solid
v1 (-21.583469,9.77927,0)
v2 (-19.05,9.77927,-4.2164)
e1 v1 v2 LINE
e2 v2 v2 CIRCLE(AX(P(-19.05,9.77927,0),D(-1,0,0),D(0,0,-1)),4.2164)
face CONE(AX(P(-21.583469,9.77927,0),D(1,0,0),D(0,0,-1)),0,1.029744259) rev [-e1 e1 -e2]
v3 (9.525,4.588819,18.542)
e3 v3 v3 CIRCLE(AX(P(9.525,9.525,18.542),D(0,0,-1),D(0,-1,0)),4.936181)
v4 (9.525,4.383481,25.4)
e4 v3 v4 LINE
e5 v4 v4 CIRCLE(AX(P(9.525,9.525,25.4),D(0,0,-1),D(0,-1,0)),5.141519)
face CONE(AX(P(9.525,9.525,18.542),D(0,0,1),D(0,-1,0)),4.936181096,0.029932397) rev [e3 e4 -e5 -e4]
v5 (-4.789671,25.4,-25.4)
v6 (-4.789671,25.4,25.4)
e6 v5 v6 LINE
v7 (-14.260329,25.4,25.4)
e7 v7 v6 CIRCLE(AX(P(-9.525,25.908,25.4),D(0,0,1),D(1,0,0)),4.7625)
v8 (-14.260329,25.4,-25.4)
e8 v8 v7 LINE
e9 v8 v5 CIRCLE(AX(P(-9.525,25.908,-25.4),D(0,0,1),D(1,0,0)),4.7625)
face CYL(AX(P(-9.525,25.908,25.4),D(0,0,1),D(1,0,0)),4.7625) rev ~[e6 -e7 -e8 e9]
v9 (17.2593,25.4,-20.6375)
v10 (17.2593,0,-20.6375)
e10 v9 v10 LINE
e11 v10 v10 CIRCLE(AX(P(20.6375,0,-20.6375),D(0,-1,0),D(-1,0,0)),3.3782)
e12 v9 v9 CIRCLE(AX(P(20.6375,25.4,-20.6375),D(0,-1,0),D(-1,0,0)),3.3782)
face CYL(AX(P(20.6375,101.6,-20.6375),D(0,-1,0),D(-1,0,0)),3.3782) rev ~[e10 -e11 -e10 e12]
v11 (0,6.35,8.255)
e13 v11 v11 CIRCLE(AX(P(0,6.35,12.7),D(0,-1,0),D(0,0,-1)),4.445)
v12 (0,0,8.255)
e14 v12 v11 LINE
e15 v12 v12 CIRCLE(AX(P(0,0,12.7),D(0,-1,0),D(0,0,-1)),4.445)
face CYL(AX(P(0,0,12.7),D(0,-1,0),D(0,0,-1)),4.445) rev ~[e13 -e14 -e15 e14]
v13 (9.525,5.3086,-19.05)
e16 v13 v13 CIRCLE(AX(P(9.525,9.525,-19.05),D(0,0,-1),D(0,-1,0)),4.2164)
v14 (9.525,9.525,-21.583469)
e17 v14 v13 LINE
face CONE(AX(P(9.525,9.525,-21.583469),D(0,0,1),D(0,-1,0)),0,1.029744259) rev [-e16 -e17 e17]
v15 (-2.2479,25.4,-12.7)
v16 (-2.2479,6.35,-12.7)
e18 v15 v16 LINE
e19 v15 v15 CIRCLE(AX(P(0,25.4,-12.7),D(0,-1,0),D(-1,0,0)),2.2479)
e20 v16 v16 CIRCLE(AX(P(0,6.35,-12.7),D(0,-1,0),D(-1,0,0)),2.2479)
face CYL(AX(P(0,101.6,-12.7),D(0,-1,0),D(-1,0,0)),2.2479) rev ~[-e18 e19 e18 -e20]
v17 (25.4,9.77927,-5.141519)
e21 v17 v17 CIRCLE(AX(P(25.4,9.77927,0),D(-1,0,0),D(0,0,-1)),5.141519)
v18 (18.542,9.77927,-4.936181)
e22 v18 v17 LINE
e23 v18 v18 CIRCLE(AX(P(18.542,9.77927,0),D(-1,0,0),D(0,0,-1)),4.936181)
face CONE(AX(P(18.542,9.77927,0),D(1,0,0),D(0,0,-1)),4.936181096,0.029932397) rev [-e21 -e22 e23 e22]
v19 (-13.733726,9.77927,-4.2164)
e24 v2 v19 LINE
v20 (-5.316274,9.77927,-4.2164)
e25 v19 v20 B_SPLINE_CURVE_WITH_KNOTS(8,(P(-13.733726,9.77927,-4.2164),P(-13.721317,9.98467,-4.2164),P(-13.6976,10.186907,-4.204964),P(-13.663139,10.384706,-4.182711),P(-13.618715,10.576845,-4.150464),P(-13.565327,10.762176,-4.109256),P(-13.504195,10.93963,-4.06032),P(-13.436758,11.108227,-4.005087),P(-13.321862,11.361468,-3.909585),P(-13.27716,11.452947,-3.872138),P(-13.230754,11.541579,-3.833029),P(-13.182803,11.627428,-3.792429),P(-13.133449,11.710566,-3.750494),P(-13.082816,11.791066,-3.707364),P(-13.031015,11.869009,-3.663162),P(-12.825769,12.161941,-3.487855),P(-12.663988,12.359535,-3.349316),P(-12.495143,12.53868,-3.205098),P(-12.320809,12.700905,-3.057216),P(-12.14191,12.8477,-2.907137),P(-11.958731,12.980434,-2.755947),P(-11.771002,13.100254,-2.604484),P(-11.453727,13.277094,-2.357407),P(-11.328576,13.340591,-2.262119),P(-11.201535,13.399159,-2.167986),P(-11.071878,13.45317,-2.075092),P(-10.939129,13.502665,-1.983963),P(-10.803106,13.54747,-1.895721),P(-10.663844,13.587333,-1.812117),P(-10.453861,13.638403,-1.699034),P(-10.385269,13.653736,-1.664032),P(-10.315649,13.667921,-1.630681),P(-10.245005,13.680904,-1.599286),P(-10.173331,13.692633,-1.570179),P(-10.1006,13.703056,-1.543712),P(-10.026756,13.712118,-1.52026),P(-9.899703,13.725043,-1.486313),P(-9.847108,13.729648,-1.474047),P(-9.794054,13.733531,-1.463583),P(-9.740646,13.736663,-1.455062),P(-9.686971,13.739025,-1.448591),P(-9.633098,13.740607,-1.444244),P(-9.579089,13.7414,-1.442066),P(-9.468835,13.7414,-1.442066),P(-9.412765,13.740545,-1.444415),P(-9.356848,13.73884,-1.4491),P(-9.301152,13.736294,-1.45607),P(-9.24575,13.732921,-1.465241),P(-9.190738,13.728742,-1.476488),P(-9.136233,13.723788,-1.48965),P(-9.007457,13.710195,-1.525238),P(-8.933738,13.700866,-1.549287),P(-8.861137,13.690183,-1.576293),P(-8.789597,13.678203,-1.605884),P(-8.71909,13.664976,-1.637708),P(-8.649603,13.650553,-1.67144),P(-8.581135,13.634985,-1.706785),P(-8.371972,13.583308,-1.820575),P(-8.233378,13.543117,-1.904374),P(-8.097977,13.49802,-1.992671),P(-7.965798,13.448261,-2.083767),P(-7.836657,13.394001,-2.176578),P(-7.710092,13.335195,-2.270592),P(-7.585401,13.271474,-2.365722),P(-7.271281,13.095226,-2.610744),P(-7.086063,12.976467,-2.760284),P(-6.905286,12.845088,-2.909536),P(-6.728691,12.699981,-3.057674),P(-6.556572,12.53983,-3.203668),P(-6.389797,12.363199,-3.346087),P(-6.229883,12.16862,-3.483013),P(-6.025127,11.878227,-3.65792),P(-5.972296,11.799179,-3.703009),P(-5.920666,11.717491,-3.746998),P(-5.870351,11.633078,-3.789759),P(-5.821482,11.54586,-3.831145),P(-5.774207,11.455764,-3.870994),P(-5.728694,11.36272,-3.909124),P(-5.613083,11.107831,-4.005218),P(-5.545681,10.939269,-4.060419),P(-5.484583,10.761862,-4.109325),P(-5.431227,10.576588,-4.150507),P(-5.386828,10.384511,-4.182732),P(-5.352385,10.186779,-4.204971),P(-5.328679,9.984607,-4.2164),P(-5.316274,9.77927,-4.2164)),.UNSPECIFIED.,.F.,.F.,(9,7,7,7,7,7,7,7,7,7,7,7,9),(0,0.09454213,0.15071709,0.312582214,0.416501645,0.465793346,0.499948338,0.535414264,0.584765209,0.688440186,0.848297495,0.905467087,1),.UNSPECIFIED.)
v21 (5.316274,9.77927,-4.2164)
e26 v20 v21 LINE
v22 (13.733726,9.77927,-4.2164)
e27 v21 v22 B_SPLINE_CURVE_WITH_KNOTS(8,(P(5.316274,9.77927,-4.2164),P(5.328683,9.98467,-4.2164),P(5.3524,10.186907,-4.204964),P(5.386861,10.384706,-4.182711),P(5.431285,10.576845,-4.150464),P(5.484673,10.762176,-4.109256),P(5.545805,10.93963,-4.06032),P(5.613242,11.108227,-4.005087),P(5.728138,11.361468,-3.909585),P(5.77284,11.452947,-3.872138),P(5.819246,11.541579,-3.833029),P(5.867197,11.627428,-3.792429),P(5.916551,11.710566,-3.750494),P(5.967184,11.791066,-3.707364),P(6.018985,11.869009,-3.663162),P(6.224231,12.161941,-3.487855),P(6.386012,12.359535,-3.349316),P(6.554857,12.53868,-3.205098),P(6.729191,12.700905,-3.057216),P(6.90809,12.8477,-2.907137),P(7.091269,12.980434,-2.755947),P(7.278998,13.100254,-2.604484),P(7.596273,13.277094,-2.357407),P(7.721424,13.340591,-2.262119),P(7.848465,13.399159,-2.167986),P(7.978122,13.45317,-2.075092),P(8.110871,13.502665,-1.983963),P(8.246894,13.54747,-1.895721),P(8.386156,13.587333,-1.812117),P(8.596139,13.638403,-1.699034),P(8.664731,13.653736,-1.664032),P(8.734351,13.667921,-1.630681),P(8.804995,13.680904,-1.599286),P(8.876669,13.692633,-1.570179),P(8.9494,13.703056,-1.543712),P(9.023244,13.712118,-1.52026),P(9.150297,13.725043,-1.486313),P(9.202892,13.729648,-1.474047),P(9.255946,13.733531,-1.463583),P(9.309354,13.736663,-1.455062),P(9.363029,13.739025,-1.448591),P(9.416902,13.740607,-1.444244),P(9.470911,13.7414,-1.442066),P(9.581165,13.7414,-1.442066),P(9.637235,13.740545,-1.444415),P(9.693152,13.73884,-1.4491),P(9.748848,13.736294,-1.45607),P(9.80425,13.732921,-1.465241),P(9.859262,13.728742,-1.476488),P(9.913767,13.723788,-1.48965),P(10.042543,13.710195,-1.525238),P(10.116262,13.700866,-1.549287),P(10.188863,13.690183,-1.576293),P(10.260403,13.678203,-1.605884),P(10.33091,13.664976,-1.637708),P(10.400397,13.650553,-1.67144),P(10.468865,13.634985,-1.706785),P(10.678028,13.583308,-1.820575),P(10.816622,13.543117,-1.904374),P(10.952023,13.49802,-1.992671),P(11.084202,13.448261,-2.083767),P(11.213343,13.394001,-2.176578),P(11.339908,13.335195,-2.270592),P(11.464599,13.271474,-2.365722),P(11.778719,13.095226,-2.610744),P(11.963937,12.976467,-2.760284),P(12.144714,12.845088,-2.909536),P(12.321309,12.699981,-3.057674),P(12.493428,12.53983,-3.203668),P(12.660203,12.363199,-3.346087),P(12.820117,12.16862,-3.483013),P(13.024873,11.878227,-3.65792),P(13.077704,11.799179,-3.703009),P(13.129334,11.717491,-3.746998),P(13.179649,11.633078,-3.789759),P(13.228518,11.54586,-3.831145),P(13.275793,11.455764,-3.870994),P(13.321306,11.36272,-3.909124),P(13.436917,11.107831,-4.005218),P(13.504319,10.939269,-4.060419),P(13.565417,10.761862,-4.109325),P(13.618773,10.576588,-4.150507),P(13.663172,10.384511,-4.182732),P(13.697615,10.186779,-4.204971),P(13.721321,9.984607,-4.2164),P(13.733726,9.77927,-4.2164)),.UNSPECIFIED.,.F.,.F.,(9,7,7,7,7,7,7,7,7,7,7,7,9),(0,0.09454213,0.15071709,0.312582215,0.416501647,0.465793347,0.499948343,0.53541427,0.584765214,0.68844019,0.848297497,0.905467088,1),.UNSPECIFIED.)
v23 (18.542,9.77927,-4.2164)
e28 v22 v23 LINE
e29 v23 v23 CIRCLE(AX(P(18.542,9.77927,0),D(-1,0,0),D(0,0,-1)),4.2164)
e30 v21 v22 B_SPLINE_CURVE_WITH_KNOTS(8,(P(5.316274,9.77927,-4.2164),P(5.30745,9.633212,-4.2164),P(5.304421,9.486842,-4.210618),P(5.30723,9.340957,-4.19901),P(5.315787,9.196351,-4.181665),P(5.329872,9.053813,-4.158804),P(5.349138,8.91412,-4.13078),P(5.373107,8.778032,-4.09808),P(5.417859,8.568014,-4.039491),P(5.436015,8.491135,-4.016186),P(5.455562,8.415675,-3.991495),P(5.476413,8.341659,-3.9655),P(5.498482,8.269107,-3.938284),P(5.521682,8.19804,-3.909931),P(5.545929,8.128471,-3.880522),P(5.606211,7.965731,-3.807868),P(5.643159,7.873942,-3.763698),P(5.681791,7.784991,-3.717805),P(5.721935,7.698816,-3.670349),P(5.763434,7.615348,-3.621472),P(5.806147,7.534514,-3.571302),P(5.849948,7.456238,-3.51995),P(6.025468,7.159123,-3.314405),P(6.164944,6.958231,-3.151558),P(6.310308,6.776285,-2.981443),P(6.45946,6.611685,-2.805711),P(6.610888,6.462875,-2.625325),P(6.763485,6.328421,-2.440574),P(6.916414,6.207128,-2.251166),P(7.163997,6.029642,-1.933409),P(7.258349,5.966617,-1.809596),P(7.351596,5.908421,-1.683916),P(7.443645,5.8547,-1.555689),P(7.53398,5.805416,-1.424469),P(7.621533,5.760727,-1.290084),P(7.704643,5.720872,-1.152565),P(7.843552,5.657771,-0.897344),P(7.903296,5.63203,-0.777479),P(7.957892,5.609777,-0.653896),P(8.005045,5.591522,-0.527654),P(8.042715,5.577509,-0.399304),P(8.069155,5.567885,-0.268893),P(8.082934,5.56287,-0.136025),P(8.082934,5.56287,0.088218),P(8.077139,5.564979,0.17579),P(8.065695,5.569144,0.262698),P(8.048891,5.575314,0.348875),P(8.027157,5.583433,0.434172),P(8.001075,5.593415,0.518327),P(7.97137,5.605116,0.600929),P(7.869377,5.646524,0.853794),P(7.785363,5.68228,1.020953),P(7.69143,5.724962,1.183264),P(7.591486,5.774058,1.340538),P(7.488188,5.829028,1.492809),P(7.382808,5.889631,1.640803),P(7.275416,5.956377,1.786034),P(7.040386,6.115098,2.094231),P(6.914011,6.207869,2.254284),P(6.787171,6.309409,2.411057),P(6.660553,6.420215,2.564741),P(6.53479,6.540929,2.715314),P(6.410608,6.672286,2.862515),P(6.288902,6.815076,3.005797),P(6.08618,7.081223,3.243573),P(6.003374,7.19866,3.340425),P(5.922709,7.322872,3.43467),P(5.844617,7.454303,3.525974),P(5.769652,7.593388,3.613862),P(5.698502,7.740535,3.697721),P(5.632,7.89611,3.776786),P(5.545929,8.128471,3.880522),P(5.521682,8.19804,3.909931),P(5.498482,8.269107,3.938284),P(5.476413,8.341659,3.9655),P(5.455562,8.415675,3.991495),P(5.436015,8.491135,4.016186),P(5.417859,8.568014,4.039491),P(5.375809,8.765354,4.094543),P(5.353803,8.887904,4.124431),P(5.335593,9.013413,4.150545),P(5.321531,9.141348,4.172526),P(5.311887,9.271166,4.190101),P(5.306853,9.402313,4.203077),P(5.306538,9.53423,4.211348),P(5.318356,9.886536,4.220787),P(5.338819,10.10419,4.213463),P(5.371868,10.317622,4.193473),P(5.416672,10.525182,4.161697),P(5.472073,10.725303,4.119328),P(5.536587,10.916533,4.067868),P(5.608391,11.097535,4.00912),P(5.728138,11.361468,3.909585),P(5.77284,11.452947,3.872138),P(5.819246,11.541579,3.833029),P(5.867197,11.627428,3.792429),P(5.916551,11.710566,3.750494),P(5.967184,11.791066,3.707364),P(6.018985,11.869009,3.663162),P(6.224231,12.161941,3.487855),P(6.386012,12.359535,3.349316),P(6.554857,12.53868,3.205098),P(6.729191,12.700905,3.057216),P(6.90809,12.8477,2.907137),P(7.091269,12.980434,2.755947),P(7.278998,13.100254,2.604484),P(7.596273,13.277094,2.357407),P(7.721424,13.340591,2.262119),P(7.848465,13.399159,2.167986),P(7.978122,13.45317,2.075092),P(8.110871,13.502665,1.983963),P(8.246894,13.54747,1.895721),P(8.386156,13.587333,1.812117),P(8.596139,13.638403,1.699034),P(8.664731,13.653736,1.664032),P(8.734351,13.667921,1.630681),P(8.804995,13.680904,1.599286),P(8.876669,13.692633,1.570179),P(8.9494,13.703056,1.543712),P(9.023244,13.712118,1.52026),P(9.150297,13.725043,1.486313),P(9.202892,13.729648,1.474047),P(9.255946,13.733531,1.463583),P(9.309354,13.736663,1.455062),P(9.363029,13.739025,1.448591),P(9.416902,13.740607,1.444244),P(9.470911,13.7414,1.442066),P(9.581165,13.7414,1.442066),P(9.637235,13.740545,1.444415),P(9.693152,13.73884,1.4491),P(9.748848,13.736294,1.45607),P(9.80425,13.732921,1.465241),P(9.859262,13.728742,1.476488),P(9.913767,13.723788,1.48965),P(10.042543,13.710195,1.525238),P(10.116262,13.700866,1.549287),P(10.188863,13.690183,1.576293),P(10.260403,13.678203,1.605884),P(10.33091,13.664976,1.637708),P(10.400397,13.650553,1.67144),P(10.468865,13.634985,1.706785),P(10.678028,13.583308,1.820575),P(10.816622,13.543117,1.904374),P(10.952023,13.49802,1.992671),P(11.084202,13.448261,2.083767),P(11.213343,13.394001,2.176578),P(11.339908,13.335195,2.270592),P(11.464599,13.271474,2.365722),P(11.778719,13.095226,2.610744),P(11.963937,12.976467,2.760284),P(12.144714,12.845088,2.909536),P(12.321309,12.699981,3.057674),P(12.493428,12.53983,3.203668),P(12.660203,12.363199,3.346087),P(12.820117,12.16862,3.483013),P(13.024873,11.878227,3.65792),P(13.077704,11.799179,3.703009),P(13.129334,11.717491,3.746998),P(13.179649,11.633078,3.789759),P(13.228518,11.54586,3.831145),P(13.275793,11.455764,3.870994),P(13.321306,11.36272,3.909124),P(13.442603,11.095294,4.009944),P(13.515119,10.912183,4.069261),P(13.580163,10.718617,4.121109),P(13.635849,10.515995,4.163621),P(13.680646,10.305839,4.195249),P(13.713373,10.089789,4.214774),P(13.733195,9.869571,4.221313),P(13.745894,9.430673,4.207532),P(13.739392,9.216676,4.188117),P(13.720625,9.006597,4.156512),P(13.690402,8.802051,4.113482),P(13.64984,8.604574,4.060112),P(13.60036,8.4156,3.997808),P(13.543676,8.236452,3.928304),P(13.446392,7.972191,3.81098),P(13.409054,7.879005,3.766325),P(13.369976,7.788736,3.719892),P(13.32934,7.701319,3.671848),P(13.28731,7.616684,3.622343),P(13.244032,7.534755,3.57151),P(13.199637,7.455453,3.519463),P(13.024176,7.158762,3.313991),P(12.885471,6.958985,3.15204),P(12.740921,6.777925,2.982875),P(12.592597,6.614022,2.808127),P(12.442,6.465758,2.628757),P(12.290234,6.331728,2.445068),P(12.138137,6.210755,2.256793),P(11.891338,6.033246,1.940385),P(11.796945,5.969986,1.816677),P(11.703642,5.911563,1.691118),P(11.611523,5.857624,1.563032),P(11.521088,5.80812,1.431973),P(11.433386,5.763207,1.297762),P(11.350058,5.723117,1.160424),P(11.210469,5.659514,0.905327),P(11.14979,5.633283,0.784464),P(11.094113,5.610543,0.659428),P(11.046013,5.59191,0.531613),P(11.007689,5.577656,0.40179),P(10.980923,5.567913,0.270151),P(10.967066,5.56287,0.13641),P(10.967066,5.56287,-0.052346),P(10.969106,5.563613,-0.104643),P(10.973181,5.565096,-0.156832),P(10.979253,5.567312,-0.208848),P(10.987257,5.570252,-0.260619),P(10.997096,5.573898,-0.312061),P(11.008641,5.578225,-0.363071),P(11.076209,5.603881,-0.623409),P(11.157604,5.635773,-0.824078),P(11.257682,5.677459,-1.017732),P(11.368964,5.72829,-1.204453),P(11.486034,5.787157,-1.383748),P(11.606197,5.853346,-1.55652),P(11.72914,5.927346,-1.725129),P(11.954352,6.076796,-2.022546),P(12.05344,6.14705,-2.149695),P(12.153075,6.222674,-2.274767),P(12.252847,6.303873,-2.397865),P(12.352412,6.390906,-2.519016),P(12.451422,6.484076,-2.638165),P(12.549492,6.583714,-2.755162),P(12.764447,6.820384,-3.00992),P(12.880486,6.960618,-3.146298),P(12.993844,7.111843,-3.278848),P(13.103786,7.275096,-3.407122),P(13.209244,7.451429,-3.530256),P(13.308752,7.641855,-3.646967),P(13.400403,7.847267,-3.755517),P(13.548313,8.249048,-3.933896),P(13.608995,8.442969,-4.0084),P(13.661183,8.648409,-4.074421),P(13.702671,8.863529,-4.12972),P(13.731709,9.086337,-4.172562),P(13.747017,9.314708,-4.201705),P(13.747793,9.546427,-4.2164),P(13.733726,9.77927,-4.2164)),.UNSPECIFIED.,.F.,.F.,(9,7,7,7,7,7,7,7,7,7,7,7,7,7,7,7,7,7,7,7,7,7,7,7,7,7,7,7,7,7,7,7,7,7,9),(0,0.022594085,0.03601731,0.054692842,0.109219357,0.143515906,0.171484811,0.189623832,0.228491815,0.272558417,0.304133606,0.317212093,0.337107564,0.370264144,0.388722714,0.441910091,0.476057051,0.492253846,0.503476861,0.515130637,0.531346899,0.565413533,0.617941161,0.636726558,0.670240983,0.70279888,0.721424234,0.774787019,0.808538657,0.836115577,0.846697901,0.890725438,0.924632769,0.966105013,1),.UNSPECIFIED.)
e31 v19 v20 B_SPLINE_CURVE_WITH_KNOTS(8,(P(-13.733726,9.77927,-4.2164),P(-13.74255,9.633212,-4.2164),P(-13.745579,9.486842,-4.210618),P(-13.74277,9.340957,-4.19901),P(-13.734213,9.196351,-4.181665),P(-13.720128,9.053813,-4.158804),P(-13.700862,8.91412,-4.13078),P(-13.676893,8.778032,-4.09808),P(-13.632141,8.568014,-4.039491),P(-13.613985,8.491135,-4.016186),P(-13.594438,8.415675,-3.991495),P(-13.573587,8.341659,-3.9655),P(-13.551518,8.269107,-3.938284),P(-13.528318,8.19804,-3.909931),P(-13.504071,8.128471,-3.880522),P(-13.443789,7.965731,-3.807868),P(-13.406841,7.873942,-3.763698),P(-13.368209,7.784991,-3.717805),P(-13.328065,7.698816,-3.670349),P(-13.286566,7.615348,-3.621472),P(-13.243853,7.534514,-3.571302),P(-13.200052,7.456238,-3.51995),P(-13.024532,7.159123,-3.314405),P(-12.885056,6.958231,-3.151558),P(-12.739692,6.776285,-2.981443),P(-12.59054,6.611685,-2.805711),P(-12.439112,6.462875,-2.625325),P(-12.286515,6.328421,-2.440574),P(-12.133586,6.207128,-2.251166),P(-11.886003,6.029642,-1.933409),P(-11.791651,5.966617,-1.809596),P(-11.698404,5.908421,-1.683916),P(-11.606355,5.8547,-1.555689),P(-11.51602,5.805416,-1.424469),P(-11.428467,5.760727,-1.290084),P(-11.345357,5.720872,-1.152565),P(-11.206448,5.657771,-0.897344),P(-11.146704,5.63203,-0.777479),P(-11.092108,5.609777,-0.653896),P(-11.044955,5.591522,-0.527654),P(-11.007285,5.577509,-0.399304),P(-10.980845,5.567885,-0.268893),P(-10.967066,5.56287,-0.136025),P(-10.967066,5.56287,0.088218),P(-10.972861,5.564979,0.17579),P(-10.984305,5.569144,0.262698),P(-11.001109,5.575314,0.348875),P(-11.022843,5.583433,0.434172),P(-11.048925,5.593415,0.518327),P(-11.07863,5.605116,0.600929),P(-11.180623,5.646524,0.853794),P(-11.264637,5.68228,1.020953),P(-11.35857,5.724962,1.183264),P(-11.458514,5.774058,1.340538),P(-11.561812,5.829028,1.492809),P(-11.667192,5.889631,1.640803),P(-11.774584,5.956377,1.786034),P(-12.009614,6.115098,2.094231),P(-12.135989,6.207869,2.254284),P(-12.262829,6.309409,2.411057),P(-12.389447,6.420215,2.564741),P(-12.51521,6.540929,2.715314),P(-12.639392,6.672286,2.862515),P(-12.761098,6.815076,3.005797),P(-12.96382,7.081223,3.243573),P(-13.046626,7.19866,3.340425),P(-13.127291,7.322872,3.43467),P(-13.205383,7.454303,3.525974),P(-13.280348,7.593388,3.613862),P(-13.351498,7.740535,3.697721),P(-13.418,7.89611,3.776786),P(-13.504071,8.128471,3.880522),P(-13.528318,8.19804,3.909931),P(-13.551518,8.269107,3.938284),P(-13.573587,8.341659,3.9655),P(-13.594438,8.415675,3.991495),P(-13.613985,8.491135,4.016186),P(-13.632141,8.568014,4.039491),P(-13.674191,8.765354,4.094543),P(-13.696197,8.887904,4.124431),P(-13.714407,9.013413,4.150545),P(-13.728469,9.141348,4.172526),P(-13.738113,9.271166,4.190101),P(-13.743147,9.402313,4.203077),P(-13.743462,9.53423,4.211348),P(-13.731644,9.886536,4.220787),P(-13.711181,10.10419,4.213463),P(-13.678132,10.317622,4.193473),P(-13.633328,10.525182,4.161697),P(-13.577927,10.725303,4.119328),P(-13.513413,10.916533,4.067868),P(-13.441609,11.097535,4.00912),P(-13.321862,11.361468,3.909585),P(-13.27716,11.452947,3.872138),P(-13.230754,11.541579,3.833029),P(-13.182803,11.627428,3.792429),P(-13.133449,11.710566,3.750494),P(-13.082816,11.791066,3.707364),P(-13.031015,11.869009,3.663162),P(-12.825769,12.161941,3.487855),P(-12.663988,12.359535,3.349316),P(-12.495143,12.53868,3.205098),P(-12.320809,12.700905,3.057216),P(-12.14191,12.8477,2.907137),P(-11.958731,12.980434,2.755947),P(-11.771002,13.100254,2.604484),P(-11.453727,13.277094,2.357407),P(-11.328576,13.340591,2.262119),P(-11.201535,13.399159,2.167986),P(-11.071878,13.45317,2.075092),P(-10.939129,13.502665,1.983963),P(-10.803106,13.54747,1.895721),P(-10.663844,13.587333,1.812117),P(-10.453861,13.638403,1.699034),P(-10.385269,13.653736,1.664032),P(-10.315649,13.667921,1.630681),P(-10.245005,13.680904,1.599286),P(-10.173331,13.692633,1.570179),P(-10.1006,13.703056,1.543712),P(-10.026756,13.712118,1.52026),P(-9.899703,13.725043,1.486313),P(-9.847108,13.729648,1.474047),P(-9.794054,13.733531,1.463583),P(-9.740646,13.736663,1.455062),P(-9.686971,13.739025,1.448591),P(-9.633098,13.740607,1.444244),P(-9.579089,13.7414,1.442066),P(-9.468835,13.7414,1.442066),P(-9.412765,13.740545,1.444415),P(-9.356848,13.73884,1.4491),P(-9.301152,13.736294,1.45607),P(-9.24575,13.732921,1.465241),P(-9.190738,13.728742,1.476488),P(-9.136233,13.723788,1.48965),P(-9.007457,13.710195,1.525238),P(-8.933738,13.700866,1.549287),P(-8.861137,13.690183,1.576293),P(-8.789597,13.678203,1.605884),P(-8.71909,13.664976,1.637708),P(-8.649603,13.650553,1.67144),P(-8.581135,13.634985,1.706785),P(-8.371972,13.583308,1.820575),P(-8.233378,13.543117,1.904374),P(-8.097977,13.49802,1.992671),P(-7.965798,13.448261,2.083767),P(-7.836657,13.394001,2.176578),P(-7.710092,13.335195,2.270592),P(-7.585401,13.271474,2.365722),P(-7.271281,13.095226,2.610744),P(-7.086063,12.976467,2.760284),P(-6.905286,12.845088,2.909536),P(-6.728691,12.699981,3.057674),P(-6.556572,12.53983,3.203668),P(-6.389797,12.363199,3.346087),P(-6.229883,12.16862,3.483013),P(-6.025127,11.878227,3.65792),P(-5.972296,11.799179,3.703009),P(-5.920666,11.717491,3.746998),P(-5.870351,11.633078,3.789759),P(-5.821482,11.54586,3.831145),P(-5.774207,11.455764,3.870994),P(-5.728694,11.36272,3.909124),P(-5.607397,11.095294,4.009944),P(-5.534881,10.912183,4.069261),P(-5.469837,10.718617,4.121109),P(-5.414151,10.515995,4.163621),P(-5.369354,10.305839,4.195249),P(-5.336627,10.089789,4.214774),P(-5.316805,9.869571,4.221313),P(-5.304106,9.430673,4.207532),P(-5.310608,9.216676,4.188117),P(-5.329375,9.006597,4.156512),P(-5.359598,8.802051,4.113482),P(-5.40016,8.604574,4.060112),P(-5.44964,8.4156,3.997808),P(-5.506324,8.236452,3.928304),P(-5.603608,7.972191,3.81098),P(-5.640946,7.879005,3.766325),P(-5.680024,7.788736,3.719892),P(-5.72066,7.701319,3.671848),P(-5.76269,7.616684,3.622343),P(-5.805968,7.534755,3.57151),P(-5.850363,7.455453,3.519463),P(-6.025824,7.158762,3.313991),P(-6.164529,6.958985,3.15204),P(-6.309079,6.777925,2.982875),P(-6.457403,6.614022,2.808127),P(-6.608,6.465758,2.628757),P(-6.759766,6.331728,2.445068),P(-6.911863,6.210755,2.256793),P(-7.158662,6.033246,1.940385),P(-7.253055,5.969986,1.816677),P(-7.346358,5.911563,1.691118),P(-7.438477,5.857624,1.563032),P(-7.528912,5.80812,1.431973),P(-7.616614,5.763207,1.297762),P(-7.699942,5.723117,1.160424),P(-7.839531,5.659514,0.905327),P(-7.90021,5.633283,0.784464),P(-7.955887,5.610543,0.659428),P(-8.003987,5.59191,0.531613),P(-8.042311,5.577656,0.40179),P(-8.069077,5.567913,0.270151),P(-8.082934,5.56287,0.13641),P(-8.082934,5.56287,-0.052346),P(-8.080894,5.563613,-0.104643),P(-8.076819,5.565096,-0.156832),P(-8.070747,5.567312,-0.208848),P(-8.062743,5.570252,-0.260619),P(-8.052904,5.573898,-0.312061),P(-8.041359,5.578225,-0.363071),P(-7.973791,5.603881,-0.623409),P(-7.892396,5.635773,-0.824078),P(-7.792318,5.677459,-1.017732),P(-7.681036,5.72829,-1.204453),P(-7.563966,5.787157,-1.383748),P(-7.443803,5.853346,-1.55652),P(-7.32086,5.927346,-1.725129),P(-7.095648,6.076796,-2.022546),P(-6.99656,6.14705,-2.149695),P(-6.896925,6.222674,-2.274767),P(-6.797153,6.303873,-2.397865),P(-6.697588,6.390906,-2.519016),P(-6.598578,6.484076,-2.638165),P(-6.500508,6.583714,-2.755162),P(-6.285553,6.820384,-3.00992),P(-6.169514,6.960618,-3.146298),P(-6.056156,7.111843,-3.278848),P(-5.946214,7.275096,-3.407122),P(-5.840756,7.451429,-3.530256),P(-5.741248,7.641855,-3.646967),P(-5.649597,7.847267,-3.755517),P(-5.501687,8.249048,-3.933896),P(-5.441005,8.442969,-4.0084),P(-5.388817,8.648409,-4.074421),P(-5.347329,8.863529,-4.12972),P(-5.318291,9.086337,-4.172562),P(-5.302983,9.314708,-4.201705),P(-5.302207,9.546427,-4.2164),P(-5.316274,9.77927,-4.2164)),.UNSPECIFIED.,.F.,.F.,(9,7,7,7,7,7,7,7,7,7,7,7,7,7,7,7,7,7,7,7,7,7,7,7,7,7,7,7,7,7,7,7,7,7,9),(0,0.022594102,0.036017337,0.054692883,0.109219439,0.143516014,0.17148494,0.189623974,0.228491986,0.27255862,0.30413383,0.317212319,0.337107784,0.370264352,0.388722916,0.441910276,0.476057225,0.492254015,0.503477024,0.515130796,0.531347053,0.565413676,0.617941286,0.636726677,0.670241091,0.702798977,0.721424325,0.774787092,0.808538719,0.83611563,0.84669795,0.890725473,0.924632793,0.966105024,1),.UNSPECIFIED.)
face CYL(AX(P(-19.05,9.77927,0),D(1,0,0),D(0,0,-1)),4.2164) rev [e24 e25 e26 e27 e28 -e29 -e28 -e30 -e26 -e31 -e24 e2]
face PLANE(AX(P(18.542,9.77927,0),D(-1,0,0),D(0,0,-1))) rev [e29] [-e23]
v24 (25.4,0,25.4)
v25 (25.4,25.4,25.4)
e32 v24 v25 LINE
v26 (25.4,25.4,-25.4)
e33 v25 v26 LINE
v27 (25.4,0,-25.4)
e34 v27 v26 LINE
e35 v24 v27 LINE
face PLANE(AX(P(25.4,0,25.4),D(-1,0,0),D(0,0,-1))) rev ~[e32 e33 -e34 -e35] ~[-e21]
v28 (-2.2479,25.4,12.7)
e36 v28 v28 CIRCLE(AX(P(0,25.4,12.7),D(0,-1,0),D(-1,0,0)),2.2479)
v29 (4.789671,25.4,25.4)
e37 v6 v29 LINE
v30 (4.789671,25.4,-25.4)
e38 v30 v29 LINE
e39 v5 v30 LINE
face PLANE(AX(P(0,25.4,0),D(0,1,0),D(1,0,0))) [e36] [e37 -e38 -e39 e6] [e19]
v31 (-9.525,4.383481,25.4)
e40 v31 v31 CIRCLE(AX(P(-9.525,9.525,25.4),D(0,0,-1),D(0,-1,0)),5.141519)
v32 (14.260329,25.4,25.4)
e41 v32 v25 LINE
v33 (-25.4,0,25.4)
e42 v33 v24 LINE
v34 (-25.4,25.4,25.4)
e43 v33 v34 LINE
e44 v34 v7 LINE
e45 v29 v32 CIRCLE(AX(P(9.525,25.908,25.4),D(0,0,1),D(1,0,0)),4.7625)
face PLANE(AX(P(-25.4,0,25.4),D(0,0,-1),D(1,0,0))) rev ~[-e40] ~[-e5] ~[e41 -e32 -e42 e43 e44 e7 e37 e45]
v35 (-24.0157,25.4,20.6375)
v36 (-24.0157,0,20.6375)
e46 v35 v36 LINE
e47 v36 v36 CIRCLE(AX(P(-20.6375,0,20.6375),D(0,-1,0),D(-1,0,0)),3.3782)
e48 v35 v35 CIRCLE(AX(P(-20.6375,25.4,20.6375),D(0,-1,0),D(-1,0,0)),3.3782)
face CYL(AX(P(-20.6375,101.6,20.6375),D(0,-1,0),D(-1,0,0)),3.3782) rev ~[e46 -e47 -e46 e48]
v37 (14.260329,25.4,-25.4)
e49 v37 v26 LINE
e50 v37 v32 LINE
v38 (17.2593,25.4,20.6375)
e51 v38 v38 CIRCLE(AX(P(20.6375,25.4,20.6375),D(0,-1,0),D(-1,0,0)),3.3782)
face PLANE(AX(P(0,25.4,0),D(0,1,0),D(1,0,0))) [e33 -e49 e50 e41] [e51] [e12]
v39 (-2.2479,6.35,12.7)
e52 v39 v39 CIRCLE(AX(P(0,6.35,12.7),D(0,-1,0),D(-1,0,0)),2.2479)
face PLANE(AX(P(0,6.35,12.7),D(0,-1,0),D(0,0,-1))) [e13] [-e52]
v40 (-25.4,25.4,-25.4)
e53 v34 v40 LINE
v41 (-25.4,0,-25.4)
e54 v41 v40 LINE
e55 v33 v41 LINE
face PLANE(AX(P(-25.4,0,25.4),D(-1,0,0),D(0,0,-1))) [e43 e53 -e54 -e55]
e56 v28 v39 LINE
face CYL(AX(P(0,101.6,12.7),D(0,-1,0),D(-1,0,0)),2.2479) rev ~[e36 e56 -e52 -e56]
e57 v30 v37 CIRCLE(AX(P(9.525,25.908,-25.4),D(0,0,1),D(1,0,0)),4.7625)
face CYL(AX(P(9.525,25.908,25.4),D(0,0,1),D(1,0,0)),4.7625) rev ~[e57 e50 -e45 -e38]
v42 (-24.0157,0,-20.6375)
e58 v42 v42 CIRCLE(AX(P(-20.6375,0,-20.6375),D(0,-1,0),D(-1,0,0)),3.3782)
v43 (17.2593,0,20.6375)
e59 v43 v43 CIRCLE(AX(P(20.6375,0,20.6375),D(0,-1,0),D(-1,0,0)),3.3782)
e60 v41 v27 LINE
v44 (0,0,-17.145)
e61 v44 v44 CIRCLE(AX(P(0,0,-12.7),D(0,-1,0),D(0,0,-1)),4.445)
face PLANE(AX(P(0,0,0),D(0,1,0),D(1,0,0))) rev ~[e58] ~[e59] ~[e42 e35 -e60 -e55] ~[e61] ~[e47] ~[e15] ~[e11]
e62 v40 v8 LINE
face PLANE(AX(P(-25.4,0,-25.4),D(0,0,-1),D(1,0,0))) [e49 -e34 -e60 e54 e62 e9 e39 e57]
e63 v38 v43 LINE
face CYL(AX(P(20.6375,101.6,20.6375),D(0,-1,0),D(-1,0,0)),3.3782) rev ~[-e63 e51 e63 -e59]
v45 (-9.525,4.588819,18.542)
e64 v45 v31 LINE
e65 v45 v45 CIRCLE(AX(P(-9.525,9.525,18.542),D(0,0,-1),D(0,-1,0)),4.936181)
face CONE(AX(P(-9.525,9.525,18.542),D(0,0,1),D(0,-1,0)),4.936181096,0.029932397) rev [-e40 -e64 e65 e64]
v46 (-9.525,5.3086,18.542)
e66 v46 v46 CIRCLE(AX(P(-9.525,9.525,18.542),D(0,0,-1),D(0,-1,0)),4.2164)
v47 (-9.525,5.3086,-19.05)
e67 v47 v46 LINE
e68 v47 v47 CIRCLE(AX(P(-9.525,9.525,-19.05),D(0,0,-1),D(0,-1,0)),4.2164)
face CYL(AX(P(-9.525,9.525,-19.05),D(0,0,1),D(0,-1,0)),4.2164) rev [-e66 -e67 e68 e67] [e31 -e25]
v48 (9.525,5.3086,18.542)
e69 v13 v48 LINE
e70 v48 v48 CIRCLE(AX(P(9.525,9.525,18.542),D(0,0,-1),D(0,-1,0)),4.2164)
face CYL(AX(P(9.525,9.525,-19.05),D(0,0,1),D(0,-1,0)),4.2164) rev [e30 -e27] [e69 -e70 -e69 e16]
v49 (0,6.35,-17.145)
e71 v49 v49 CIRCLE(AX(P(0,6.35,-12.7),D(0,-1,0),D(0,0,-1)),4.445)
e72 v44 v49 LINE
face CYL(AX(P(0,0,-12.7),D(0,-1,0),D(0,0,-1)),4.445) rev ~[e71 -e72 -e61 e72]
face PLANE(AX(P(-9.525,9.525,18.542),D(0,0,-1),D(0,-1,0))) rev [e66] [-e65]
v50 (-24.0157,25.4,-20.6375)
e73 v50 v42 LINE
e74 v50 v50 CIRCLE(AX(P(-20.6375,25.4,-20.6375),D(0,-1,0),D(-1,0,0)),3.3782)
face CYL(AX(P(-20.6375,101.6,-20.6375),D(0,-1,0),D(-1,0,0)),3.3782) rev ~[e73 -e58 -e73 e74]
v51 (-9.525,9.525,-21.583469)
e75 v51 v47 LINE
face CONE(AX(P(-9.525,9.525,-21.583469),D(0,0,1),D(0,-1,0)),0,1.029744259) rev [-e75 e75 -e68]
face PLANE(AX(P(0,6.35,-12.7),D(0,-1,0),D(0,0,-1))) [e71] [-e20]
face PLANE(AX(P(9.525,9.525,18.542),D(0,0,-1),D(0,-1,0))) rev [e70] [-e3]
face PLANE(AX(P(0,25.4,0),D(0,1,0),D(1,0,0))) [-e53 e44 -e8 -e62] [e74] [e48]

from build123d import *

# Parameters (mm, degrees)
SKETCH1_W                         = 50.8
SKETCH1_H                         = 50.8
BOSS_EXTRUDE1_DEPTH               = 25.4
SKETCH2_R                         = 4.7625
CUT_EXTRUDE1_DEPTH                = 63.217039467
F_1_4_CLEARANCE_HOLE1_D           = 6.7564
F_8_CLEARANCE_HOLE1_D             = 4.4958
SKETCH9_R                         = 4.445
CUT_EXTRUDE3_DEPTH                = 6.35
F_1_8_NPT_TAPPED_HOLE1_AT_2_COUNT = 2
F_1_8_NPT_TAPPED_HOLE1_AT_2_PITCH = 19.05


with BuildPart() as part:
    # Sketch1 → Boss-Extrude1 (new body)
    with BuildSketch(Plane(origin=(0, 0, 0), x_dir=(1, 0, 0), z_dir=(0, 1, 0))):
        Rectangle(SKETCH1_W, SKETCH1_H)
    extrude(amount=BOSS_EXTRUDE1_DEPTH)

    # Sketch2 → Cut-Extrude1 (cut, through all)
    with BuildSketch(Plane.XY.offset(25.4)):
        with Locations((-9.525, 25.908)):
            Circle(SKETCH2_R)
        with Locations((9.525, 25.908)):
            Circle(SKETCH2_R)
    extrude(amount=-CUT_EXTRUDE1_DEPTH, mode=Mode.SUBTRACT)

    # 1/4 Clearance Hole1 (through all)
    with Locations(Plane(origin=(0, 25.4, 0), x_dir=(1, 0, 0), z_dir=(0, 1, 0))):
        with Locations((-20.6375, 20.6375), (-20.6375, -20.6375), (20.6375, -20.6375), (20.6375, 20.6375)):
            Hole(F_1_4_CLEARANCE_HOLE1_D / 2)

    # #8 Clearance Hole1 (through all)
    with Locations(Plane(origin=(0, 25.4, 0), x_dir=(1, 0, 0), z_dir=(0, 1, 0))):
        with Locations((0, 12.7), (0, -12.7)):
            Hole(F_8_CLEARANCE_HOLE1_D / 2)

    # Sketch9 → Cut-Extrude3 (cut)
    with BuildSketch(Plane.XZ):
        with Locations(Location((0, 12.7, 0), (0, 0, 270))):
            Circle(SKETCH9_R)
        with Locations(Location((0, -12.7, 0), (0, 0, 270))):
            Circle(SKETCH9_R)
    extrude(amount=-CUT_EXTRUDE3_DEPTH, mode=Mode.SUBTRACT)

    # Sketch10 → 1/8 NPT Tapped Hole1 (revolve, cut)
    with BuildSketch(Plane(origin=(-9.525, 9.525, 25.4), x_dir=(0, -1, 0), z_dir=(1, 0, 0))):
        Polygon((0, 0), (0, 46.983468714), (4.2164, 44.45), (4.2164, 6.858), (4.936181096, 6.858), (5.1415188, 0), align=None)
    f_1_8_npt_tapped_hole1 = revolve(axis=Axis((-9.525, 9.525, 31.75), (0, 0, -1)), mode=Mode.SUBTRACT)

    # 1/8 NPT Tapped Hole1 at 2: 1/8 NPT Tapped Hole1 ×2
    with Locations(*[(i * F_1_8_NPT_TAPPED_HOLE1_AT_2_PITCH, 0, 0) for i in range(1, F_1_8_NPT_TAPPED_HOLE1_AT_2_COUNT)]):
        add(f_1_8_npt_tapped_hole1, mode=Mode.SUBTRACT)

    # Sketch14 → 1/8 NPT Tapped Hole3 (revolve, cut)
    with BuildSketch(Plane(origin=(25.4, 9.77926984, 0), x_dir=(0, 0, -1), z_dir=(0, 1, 0))):
        Polygon((0, 0), (0, 46.983468714), (4.2164, 44.45), (4.2164, 6.858), (4.936181096, 6.858), (5.1415188, 0), align=None)
    revolve(axis=Axis((31.75, 9.77926984, 0), (-1, 0, 0)), mode=Mode.SUBTRACT)


solid = part.part
